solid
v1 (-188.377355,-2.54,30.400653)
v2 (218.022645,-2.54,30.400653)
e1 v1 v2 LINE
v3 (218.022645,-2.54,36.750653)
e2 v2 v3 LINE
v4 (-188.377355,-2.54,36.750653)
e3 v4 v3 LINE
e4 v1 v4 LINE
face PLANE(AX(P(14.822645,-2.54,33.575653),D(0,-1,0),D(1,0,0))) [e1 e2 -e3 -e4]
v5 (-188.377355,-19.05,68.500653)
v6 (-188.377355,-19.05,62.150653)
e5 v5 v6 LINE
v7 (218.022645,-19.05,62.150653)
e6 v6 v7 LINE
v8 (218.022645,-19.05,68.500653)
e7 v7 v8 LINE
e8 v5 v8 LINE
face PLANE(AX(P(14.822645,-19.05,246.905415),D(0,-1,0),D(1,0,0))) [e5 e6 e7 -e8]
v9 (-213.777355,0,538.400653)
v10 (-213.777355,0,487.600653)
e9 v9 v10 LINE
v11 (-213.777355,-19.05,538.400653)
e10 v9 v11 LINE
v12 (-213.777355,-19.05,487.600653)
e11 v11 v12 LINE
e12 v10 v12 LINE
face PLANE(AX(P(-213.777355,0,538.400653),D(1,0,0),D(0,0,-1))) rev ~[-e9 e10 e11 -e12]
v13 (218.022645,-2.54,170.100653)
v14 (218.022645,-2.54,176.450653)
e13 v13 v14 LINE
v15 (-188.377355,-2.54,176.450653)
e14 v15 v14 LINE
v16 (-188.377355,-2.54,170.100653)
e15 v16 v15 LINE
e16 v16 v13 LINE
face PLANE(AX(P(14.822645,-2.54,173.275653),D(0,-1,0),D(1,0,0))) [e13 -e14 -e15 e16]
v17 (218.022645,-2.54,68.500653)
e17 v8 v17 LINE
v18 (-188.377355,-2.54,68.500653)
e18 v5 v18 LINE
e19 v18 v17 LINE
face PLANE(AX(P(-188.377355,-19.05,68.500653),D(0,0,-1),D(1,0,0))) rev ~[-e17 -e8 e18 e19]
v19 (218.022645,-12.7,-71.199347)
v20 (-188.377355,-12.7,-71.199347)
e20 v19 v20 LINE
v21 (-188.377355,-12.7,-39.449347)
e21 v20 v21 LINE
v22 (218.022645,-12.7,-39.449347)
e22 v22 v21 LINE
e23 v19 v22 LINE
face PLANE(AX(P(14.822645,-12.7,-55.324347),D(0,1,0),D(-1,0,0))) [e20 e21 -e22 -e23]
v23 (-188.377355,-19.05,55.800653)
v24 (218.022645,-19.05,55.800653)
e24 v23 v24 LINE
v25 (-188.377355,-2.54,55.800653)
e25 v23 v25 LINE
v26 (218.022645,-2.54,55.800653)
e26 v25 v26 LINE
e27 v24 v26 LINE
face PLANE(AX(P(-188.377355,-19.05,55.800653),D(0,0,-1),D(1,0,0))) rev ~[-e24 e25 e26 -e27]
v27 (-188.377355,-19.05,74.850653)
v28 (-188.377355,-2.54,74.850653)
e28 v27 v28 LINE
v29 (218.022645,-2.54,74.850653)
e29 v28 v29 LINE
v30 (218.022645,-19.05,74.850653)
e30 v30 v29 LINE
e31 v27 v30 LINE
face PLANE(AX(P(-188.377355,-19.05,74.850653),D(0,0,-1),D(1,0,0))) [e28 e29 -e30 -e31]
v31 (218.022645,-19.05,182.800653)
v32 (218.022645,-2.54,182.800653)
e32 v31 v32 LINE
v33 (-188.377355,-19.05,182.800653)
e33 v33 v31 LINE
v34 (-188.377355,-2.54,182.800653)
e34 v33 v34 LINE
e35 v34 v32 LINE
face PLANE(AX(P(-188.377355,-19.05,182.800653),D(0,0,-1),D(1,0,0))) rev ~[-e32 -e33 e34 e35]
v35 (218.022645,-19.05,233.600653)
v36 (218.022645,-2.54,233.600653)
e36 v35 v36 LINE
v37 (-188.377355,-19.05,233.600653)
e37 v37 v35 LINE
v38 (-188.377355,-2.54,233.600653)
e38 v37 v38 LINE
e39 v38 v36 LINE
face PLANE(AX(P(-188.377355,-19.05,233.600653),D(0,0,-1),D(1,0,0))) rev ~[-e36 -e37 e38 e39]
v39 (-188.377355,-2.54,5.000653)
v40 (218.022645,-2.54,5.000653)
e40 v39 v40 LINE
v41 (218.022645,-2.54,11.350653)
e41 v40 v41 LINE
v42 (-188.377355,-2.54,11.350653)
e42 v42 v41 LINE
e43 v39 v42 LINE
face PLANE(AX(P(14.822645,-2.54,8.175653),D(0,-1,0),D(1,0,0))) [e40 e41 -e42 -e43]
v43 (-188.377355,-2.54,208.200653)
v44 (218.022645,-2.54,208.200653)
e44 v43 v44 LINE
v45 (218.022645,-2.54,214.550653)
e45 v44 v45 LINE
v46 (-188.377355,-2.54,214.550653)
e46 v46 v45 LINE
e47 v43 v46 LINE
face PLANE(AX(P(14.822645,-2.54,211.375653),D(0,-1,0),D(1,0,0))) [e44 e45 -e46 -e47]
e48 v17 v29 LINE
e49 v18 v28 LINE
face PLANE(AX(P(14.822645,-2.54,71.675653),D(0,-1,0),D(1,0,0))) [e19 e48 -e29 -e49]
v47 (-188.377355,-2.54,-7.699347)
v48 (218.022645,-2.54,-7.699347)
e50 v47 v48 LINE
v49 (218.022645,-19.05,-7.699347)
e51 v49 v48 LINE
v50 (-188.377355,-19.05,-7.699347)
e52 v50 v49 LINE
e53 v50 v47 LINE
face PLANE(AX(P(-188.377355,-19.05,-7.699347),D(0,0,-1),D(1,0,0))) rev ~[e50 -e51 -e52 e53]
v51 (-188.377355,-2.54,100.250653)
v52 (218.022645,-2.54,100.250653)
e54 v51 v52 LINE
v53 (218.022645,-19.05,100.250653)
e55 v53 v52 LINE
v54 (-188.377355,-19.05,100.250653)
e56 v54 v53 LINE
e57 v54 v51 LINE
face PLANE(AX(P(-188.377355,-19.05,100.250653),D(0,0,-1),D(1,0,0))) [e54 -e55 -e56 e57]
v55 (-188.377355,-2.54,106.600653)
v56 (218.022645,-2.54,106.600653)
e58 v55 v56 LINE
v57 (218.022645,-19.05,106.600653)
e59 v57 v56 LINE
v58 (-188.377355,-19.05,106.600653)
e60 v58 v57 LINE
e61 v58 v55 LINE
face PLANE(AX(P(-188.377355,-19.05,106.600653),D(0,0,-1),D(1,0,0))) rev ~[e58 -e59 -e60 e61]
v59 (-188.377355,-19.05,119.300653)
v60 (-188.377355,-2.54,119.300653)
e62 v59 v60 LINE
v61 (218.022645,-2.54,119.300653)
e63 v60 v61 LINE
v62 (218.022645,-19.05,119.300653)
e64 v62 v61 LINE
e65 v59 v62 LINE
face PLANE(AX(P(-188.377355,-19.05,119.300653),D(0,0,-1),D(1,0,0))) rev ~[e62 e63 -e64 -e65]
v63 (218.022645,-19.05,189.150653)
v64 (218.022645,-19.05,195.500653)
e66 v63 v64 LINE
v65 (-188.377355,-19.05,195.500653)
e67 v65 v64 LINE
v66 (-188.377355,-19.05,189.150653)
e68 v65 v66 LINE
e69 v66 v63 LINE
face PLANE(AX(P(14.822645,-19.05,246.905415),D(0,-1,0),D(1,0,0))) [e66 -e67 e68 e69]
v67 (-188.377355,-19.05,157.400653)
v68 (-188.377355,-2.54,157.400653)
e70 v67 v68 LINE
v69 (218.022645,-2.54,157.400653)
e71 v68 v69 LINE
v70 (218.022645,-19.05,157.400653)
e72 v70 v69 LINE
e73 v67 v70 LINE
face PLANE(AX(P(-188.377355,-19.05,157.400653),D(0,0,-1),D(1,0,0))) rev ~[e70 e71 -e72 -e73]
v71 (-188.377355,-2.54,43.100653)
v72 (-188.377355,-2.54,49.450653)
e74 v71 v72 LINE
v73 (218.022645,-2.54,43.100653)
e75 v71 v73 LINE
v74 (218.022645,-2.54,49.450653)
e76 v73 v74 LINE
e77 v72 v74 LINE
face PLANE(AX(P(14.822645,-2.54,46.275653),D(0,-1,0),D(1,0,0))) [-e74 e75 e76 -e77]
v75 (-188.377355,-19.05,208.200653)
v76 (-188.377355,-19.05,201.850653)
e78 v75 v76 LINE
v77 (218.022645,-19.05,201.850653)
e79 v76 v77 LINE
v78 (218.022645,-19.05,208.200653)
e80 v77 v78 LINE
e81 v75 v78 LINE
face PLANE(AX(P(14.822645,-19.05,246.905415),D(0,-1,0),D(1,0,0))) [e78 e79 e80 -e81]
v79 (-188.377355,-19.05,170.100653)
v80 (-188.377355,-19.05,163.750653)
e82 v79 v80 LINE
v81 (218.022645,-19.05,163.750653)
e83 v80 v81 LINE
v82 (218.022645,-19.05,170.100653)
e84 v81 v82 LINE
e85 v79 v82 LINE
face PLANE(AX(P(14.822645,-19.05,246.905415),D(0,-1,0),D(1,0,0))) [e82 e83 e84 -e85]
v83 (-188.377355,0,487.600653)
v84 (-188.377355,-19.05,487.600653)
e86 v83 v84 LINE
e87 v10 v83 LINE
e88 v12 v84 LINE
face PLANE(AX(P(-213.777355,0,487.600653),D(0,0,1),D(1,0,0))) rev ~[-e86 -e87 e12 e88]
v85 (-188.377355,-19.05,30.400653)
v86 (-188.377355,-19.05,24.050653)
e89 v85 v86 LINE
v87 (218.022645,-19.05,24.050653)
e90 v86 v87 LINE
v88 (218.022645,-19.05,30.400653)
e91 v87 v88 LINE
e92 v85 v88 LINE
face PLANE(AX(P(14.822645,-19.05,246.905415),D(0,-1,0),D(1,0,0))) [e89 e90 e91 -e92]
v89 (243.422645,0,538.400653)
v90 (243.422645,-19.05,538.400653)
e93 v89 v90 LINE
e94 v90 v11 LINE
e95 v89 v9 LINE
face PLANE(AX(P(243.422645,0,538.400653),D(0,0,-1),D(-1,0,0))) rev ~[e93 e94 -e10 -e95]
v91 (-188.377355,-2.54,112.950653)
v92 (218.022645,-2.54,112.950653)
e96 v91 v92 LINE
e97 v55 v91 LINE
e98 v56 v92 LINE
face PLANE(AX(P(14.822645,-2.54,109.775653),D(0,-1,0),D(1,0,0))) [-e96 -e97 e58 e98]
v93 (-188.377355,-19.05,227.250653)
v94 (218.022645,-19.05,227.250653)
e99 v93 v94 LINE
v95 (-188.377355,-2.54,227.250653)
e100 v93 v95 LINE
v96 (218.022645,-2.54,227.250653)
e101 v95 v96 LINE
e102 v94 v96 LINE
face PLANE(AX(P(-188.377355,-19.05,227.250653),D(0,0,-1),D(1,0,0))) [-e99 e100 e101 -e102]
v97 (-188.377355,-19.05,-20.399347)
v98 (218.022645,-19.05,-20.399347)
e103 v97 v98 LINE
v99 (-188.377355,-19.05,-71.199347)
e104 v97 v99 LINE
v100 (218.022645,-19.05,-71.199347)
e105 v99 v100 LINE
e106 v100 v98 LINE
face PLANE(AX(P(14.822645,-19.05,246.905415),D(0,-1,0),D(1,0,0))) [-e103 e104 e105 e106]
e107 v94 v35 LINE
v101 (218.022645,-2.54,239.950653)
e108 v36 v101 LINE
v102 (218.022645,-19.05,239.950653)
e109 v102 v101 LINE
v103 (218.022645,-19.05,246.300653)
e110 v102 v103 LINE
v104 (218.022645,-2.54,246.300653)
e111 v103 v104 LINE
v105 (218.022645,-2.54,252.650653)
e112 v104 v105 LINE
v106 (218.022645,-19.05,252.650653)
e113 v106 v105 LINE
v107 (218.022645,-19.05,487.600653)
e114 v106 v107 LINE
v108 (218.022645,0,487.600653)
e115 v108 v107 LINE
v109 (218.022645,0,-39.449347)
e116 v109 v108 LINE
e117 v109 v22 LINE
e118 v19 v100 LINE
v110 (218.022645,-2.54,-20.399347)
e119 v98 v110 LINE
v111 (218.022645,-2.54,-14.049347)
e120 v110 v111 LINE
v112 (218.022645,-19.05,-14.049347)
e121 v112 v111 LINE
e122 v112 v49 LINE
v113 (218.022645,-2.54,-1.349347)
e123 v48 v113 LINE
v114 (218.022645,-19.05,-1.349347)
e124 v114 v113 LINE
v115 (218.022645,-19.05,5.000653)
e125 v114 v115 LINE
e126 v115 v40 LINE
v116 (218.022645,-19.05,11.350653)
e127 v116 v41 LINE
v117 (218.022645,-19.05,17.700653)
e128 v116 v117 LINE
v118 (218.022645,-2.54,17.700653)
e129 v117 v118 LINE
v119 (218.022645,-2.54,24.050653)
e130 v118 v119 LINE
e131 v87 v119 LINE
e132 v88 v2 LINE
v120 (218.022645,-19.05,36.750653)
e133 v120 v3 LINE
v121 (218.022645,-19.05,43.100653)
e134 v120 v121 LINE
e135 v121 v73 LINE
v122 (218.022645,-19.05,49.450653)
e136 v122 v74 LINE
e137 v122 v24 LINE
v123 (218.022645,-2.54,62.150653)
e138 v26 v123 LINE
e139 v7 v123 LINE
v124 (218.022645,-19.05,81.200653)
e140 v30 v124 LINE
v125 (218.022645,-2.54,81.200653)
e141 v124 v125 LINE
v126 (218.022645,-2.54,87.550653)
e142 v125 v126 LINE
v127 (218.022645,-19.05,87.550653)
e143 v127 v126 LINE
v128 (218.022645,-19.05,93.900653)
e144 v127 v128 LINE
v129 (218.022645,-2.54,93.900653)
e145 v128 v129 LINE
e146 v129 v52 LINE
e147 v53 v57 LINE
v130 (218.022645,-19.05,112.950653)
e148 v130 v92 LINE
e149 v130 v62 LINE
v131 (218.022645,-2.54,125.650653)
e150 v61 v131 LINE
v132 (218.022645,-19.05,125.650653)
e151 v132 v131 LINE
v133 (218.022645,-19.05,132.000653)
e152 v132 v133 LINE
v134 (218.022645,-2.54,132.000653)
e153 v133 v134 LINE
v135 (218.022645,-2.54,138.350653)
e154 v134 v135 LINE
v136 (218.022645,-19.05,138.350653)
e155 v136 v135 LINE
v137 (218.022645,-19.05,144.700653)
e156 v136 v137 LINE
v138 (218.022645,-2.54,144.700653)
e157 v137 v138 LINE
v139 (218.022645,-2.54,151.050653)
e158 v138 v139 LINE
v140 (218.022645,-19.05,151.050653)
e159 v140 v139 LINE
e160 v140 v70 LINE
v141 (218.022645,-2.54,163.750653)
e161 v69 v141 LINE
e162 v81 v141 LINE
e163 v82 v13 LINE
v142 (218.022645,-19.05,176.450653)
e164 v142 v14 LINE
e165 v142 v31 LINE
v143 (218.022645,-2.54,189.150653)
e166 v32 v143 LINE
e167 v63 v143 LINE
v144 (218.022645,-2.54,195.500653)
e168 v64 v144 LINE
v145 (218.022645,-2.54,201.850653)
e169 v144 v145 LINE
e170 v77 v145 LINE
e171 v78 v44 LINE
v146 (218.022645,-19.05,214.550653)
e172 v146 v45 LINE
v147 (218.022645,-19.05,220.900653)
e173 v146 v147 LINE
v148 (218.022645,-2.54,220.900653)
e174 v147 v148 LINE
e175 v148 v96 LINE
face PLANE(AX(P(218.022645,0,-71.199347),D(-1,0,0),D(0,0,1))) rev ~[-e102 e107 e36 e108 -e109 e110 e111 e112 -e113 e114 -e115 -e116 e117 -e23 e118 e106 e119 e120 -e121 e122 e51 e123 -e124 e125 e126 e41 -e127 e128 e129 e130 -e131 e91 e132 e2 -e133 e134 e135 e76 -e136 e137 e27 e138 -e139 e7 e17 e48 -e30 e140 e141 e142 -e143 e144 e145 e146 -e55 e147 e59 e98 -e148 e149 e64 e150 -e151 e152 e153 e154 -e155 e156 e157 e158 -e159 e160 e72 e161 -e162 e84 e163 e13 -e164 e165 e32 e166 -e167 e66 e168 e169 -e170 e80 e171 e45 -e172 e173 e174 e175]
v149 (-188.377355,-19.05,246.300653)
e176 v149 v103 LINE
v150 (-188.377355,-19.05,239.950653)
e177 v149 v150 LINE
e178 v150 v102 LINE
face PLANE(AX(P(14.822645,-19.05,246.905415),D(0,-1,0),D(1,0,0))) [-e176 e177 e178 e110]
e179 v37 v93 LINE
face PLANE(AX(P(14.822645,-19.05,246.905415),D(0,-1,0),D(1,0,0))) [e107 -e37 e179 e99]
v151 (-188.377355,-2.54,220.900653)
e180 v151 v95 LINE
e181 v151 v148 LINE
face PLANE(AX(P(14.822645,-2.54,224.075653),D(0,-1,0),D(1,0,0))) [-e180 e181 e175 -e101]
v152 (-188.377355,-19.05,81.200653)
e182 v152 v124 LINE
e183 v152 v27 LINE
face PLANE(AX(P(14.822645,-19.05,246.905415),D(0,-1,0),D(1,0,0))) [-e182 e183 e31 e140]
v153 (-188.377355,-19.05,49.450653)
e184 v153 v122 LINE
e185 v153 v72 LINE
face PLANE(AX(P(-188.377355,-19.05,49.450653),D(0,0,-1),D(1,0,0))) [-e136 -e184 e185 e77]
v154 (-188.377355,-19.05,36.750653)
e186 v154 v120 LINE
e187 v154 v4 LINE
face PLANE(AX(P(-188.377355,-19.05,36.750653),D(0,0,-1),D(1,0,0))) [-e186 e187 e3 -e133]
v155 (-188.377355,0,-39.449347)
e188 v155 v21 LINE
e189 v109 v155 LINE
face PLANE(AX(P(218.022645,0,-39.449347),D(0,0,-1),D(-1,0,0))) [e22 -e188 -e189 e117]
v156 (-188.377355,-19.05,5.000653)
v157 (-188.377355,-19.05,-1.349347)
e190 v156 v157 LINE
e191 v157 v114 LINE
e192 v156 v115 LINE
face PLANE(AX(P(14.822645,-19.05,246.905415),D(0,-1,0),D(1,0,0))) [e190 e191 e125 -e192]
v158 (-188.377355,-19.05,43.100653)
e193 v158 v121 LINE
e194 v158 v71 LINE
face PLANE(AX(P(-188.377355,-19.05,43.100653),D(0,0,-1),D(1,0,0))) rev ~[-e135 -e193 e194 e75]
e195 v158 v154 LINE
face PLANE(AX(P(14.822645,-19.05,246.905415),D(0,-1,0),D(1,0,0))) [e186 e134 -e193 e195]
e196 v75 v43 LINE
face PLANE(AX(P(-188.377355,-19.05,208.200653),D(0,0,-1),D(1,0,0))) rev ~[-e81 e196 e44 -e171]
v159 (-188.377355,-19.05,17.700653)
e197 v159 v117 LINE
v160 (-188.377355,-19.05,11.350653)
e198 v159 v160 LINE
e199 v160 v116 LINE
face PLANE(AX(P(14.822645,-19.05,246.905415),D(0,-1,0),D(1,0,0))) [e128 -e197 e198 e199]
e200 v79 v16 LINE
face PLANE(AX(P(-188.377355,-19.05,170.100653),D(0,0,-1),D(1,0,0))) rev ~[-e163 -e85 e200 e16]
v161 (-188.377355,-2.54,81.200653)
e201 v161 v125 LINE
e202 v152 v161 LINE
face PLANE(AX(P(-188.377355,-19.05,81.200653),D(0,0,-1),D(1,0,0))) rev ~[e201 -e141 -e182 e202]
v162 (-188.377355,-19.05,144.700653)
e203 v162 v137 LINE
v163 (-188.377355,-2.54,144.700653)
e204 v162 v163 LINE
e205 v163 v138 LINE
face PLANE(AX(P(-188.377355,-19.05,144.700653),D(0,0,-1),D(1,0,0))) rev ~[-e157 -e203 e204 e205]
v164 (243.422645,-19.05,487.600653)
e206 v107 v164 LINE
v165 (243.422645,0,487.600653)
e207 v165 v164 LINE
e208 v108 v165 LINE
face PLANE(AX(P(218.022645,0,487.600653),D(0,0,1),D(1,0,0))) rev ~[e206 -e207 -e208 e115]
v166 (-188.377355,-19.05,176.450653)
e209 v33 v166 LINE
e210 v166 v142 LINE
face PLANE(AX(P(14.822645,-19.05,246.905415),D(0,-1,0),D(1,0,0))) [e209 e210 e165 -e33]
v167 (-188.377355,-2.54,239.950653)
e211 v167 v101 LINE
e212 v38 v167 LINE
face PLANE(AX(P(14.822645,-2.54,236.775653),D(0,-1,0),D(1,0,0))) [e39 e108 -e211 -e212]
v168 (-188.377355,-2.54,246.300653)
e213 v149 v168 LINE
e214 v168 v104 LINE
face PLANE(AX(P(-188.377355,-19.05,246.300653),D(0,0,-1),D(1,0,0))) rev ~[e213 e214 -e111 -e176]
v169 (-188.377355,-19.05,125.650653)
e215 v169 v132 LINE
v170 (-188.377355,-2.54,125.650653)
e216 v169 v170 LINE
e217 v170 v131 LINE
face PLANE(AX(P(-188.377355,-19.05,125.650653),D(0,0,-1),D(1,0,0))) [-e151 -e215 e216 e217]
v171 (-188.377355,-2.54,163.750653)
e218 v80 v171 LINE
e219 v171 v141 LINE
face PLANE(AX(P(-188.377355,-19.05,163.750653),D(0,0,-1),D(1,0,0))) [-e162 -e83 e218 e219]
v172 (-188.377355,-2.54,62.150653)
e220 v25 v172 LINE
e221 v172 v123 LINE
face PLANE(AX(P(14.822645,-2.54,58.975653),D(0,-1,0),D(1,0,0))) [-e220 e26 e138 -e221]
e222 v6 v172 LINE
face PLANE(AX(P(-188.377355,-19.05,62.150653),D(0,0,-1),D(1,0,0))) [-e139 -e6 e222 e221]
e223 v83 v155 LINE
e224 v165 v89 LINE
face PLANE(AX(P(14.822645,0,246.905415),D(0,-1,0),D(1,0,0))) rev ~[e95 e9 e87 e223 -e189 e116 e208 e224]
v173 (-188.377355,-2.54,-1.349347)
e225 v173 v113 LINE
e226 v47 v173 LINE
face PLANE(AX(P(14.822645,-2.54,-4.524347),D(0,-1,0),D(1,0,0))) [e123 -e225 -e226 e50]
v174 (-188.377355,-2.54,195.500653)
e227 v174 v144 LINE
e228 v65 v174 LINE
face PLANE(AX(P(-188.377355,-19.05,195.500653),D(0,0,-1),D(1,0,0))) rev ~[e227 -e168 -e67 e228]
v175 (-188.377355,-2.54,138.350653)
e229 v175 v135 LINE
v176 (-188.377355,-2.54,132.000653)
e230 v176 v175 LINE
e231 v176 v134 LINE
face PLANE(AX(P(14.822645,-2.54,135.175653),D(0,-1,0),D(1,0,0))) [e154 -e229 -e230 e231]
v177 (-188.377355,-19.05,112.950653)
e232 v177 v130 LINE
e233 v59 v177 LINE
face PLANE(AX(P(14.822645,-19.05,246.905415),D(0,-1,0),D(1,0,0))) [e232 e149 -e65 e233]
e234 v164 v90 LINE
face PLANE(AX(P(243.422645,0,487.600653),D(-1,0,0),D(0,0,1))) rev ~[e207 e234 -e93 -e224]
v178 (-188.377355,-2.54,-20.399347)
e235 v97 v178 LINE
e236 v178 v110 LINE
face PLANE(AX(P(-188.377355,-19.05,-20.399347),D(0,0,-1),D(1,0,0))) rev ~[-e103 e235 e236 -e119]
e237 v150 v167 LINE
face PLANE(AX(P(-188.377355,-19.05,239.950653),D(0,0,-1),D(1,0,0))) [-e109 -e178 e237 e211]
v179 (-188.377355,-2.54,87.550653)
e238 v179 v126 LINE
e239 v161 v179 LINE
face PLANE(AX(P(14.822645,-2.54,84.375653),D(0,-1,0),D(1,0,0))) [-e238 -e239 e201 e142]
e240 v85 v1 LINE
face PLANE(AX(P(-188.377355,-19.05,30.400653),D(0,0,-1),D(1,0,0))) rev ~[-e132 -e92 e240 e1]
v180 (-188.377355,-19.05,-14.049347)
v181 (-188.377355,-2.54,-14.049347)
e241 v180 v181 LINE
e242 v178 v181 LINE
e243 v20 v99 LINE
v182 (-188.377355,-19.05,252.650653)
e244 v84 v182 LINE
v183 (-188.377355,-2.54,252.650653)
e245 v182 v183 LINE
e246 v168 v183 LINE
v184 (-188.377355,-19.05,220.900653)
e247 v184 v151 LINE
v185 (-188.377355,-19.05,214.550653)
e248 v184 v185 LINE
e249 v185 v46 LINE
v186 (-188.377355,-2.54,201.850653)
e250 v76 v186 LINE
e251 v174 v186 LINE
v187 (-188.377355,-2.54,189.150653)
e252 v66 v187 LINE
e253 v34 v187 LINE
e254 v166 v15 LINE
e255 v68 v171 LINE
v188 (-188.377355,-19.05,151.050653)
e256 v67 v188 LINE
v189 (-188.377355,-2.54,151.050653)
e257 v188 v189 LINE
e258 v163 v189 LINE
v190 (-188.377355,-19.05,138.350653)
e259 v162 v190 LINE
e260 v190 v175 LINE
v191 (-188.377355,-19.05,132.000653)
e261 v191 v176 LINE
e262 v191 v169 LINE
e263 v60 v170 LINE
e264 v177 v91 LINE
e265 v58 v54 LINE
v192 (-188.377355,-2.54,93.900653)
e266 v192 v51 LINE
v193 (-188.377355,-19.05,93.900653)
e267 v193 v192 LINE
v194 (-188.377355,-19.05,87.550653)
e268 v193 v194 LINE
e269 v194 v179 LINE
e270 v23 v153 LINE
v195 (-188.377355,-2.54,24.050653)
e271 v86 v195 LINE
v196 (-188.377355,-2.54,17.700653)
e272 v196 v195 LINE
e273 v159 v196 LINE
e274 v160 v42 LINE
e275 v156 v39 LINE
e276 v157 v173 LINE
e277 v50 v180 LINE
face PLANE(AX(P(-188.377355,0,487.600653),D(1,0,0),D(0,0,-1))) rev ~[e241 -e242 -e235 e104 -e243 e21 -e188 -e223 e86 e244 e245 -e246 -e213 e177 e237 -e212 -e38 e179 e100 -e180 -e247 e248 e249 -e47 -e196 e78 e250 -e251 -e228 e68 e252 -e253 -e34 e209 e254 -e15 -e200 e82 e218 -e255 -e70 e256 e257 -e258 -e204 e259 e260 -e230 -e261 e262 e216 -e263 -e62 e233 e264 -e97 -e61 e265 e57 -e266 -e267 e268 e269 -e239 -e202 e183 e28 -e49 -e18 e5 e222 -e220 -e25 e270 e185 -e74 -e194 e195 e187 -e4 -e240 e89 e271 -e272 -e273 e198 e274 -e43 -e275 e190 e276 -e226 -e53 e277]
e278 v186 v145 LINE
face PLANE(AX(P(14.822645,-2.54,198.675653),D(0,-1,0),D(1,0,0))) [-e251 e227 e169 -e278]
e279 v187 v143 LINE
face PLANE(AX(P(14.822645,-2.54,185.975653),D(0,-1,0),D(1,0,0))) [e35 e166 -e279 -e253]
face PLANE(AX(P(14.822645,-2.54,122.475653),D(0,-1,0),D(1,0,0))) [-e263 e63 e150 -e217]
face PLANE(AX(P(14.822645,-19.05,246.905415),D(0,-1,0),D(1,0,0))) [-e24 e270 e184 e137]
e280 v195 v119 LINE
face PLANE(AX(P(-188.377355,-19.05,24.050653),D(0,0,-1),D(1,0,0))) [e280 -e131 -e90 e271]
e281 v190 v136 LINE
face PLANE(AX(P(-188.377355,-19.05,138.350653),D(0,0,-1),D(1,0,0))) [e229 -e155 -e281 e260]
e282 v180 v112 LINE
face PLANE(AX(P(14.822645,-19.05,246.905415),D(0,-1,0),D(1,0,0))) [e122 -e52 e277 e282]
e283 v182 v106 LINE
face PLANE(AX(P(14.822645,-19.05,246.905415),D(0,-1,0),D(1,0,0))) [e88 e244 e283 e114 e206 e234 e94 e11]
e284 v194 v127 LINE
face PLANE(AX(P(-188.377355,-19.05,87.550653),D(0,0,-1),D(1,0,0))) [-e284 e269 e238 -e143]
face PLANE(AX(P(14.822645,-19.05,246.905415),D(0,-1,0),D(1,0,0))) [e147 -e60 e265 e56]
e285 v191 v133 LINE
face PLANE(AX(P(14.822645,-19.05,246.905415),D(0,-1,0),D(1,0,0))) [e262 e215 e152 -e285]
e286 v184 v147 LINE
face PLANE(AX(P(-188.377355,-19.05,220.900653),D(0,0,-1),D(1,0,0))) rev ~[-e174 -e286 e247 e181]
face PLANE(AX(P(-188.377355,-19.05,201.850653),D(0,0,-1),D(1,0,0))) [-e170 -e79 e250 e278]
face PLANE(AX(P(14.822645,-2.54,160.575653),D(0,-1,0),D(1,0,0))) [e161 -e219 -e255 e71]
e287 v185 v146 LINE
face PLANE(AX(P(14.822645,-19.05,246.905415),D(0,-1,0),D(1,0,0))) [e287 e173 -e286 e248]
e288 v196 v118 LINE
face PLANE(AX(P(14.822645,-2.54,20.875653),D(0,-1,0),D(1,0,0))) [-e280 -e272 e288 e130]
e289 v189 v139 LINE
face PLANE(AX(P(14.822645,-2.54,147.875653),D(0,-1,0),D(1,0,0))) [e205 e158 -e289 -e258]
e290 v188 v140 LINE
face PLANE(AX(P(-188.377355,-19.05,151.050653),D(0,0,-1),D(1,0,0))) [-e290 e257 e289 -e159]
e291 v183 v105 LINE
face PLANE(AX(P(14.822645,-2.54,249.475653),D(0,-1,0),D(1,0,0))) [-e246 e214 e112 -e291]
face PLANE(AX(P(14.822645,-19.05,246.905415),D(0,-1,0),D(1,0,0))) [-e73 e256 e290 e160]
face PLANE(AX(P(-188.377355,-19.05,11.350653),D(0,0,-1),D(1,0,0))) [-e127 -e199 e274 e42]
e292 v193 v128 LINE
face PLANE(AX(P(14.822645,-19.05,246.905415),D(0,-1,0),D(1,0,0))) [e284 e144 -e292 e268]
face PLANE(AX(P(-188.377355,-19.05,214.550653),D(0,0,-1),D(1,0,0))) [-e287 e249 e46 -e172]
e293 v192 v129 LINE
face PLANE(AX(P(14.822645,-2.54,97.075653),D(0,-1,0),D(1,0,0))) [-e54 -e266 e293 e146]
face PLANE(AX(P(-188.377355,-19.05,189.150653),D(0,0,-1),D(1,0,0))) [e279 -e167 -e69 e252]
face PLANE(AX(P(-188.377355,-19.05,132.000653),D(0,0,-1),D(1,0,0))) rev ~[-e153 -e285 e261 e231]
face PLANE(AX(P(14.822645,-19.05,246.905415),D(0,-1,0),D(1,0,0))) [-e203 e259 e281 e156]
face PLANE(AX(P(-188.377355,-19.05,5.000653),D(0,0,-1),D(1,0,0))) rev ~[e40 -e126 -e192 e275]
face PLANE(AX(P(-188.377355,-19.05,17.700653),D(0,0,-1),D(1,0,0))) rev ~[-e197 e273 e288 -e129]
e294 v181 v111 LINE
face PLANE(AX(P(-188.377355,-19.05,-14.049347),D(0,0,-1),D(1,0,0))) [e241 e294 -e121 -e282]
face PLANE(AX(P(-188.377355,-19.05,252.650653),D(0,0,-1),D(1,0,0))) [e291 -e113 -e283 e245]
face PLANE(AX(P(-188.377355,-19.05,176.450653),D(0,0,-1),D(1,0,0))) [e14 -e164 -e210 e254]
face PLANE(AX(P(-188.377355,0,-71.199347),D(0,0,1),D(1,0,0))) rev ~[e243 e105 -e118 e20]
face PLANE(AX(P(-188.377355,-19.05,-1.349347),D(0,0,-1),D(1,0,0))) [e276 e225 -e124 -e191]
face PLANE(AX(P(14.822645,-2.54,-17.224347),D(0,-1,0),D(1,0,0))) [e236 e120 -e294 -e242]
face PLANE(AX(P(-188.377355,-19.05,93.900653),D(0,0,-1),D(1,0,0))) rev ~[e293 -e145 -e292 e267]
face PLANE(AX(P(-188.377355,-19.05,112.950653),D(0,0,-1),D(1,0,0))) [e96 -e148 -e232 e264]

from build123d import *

# Parameters (mm, degrees)
F1_DEPTH = 19.05
F2_W     = 406.4
F2_H     = 6.35
F3_DEPTH = 16.51
F4_W     = 406.4
F4_H     = 31.75
F5_DEPTH = 12.7


with BuildPart() as f1:
    # F0 (on Front) → F1 (new body)
    with BuildSketch(Plane.XZ):
        Polygon((218.022645, -71.199347), (218.022645, 487.600653), (243.422645, 487.600653), (243.422645, 538.400653), (-213.777355, 538.400653), (-213.777355, 487.600653), (-188.377355, 487.600653), (-188.377355, -71.199347), align=None)
    extrude(amount=F1_DEPTH)

    # F2 (on face) → F3 (cut)
    with BuildSketch(Plane.XZ.offset(19.05)):
        with Locations((14.822645, -17.224347)):
            Rectangle(F2_W, F2_H)
        with Locations((14.822645, -4.524347)):
            Rectangle(F2_W, F2_H)
        with Locations((14.822645, 8.175653)):
            Rectangle(F2_W, F2_H)
        with Locations((14.822645, 20.875653)):
            Rectangle(F2_W, F2_H)
        with Locations((14.822645, 33.575653)):
            Rectangle(F2_W, F2_H)
        with Locations((14.822645, 46.275653)):
            Rectangle(F2_W, F2_H)
        with Locations((14.822645, 58.975653)):
            Rectangle(F2_W, F2_H)
        with Locations((14.822645, 71.675653)):
            Rectangle(F2_W, F2_H)
        with Locations((14.822645, 84.375653)):
            Rectangle(F2_W, F2_H)
        with Locations((14.822645, 97.075653)):
            Rectangle(F2_W, F2_H)
        with Locations((14.822645, 109.775653)):
            Rectangle(F2_W, F2_H)
        with Locations((14.822645, 122.475653)):
            Rectangle(F2_W, F2_H)
        with Locations((14.822645, 135.175653)):
            Rectangle(F2_W, F2_H)
        with Locations((14.822645, 147.875653)):
            Rectangle(F2_W, F2_H)
        with Locations((14.822645, 160.575653)):
            Rectangle(F2_W, F2_H)
        with Locations((14.822645, 173.275653)):
            Rectangle(F2_W, F2_H)
        with Locations((14.822645, 185.975653)):
            Rectangle(F2_W, F2_H)
        with Locations((14.822645, 198.675653)):
            Rectangle(F2_W, F2_H)
        with Locations((14.822645, 211.375653)):
            Rectangle(F2_W, F2_H)
        with Locations((14.822645, 224.075653)):
            Rectangle(F2_W, F2_H)
        with Locations((14.822645, 236.775653)):
            Rectangle(F2_W, F2_H)
        with Locations((14.822645, 249.475653)):
            Rectangle(F2_W, F2_H)
    extrude(amount=-F3_DEPTH, mode=Mode.SUBTRACT)

    # F4 (on face) → F5 (cut)
    with BuildSketch(Plane(origin=(0, 0, 0), x_dir=(-1, 0, 0), z_dir=(0, 1, 0))):
        with Locations((-14.822645, -55.324347)):
            Rectangle(F4_W, F4_H)
    extrude(amount=-F5_DEPTH, mode=Mode.SUBTRACT)


solid = f1.part
